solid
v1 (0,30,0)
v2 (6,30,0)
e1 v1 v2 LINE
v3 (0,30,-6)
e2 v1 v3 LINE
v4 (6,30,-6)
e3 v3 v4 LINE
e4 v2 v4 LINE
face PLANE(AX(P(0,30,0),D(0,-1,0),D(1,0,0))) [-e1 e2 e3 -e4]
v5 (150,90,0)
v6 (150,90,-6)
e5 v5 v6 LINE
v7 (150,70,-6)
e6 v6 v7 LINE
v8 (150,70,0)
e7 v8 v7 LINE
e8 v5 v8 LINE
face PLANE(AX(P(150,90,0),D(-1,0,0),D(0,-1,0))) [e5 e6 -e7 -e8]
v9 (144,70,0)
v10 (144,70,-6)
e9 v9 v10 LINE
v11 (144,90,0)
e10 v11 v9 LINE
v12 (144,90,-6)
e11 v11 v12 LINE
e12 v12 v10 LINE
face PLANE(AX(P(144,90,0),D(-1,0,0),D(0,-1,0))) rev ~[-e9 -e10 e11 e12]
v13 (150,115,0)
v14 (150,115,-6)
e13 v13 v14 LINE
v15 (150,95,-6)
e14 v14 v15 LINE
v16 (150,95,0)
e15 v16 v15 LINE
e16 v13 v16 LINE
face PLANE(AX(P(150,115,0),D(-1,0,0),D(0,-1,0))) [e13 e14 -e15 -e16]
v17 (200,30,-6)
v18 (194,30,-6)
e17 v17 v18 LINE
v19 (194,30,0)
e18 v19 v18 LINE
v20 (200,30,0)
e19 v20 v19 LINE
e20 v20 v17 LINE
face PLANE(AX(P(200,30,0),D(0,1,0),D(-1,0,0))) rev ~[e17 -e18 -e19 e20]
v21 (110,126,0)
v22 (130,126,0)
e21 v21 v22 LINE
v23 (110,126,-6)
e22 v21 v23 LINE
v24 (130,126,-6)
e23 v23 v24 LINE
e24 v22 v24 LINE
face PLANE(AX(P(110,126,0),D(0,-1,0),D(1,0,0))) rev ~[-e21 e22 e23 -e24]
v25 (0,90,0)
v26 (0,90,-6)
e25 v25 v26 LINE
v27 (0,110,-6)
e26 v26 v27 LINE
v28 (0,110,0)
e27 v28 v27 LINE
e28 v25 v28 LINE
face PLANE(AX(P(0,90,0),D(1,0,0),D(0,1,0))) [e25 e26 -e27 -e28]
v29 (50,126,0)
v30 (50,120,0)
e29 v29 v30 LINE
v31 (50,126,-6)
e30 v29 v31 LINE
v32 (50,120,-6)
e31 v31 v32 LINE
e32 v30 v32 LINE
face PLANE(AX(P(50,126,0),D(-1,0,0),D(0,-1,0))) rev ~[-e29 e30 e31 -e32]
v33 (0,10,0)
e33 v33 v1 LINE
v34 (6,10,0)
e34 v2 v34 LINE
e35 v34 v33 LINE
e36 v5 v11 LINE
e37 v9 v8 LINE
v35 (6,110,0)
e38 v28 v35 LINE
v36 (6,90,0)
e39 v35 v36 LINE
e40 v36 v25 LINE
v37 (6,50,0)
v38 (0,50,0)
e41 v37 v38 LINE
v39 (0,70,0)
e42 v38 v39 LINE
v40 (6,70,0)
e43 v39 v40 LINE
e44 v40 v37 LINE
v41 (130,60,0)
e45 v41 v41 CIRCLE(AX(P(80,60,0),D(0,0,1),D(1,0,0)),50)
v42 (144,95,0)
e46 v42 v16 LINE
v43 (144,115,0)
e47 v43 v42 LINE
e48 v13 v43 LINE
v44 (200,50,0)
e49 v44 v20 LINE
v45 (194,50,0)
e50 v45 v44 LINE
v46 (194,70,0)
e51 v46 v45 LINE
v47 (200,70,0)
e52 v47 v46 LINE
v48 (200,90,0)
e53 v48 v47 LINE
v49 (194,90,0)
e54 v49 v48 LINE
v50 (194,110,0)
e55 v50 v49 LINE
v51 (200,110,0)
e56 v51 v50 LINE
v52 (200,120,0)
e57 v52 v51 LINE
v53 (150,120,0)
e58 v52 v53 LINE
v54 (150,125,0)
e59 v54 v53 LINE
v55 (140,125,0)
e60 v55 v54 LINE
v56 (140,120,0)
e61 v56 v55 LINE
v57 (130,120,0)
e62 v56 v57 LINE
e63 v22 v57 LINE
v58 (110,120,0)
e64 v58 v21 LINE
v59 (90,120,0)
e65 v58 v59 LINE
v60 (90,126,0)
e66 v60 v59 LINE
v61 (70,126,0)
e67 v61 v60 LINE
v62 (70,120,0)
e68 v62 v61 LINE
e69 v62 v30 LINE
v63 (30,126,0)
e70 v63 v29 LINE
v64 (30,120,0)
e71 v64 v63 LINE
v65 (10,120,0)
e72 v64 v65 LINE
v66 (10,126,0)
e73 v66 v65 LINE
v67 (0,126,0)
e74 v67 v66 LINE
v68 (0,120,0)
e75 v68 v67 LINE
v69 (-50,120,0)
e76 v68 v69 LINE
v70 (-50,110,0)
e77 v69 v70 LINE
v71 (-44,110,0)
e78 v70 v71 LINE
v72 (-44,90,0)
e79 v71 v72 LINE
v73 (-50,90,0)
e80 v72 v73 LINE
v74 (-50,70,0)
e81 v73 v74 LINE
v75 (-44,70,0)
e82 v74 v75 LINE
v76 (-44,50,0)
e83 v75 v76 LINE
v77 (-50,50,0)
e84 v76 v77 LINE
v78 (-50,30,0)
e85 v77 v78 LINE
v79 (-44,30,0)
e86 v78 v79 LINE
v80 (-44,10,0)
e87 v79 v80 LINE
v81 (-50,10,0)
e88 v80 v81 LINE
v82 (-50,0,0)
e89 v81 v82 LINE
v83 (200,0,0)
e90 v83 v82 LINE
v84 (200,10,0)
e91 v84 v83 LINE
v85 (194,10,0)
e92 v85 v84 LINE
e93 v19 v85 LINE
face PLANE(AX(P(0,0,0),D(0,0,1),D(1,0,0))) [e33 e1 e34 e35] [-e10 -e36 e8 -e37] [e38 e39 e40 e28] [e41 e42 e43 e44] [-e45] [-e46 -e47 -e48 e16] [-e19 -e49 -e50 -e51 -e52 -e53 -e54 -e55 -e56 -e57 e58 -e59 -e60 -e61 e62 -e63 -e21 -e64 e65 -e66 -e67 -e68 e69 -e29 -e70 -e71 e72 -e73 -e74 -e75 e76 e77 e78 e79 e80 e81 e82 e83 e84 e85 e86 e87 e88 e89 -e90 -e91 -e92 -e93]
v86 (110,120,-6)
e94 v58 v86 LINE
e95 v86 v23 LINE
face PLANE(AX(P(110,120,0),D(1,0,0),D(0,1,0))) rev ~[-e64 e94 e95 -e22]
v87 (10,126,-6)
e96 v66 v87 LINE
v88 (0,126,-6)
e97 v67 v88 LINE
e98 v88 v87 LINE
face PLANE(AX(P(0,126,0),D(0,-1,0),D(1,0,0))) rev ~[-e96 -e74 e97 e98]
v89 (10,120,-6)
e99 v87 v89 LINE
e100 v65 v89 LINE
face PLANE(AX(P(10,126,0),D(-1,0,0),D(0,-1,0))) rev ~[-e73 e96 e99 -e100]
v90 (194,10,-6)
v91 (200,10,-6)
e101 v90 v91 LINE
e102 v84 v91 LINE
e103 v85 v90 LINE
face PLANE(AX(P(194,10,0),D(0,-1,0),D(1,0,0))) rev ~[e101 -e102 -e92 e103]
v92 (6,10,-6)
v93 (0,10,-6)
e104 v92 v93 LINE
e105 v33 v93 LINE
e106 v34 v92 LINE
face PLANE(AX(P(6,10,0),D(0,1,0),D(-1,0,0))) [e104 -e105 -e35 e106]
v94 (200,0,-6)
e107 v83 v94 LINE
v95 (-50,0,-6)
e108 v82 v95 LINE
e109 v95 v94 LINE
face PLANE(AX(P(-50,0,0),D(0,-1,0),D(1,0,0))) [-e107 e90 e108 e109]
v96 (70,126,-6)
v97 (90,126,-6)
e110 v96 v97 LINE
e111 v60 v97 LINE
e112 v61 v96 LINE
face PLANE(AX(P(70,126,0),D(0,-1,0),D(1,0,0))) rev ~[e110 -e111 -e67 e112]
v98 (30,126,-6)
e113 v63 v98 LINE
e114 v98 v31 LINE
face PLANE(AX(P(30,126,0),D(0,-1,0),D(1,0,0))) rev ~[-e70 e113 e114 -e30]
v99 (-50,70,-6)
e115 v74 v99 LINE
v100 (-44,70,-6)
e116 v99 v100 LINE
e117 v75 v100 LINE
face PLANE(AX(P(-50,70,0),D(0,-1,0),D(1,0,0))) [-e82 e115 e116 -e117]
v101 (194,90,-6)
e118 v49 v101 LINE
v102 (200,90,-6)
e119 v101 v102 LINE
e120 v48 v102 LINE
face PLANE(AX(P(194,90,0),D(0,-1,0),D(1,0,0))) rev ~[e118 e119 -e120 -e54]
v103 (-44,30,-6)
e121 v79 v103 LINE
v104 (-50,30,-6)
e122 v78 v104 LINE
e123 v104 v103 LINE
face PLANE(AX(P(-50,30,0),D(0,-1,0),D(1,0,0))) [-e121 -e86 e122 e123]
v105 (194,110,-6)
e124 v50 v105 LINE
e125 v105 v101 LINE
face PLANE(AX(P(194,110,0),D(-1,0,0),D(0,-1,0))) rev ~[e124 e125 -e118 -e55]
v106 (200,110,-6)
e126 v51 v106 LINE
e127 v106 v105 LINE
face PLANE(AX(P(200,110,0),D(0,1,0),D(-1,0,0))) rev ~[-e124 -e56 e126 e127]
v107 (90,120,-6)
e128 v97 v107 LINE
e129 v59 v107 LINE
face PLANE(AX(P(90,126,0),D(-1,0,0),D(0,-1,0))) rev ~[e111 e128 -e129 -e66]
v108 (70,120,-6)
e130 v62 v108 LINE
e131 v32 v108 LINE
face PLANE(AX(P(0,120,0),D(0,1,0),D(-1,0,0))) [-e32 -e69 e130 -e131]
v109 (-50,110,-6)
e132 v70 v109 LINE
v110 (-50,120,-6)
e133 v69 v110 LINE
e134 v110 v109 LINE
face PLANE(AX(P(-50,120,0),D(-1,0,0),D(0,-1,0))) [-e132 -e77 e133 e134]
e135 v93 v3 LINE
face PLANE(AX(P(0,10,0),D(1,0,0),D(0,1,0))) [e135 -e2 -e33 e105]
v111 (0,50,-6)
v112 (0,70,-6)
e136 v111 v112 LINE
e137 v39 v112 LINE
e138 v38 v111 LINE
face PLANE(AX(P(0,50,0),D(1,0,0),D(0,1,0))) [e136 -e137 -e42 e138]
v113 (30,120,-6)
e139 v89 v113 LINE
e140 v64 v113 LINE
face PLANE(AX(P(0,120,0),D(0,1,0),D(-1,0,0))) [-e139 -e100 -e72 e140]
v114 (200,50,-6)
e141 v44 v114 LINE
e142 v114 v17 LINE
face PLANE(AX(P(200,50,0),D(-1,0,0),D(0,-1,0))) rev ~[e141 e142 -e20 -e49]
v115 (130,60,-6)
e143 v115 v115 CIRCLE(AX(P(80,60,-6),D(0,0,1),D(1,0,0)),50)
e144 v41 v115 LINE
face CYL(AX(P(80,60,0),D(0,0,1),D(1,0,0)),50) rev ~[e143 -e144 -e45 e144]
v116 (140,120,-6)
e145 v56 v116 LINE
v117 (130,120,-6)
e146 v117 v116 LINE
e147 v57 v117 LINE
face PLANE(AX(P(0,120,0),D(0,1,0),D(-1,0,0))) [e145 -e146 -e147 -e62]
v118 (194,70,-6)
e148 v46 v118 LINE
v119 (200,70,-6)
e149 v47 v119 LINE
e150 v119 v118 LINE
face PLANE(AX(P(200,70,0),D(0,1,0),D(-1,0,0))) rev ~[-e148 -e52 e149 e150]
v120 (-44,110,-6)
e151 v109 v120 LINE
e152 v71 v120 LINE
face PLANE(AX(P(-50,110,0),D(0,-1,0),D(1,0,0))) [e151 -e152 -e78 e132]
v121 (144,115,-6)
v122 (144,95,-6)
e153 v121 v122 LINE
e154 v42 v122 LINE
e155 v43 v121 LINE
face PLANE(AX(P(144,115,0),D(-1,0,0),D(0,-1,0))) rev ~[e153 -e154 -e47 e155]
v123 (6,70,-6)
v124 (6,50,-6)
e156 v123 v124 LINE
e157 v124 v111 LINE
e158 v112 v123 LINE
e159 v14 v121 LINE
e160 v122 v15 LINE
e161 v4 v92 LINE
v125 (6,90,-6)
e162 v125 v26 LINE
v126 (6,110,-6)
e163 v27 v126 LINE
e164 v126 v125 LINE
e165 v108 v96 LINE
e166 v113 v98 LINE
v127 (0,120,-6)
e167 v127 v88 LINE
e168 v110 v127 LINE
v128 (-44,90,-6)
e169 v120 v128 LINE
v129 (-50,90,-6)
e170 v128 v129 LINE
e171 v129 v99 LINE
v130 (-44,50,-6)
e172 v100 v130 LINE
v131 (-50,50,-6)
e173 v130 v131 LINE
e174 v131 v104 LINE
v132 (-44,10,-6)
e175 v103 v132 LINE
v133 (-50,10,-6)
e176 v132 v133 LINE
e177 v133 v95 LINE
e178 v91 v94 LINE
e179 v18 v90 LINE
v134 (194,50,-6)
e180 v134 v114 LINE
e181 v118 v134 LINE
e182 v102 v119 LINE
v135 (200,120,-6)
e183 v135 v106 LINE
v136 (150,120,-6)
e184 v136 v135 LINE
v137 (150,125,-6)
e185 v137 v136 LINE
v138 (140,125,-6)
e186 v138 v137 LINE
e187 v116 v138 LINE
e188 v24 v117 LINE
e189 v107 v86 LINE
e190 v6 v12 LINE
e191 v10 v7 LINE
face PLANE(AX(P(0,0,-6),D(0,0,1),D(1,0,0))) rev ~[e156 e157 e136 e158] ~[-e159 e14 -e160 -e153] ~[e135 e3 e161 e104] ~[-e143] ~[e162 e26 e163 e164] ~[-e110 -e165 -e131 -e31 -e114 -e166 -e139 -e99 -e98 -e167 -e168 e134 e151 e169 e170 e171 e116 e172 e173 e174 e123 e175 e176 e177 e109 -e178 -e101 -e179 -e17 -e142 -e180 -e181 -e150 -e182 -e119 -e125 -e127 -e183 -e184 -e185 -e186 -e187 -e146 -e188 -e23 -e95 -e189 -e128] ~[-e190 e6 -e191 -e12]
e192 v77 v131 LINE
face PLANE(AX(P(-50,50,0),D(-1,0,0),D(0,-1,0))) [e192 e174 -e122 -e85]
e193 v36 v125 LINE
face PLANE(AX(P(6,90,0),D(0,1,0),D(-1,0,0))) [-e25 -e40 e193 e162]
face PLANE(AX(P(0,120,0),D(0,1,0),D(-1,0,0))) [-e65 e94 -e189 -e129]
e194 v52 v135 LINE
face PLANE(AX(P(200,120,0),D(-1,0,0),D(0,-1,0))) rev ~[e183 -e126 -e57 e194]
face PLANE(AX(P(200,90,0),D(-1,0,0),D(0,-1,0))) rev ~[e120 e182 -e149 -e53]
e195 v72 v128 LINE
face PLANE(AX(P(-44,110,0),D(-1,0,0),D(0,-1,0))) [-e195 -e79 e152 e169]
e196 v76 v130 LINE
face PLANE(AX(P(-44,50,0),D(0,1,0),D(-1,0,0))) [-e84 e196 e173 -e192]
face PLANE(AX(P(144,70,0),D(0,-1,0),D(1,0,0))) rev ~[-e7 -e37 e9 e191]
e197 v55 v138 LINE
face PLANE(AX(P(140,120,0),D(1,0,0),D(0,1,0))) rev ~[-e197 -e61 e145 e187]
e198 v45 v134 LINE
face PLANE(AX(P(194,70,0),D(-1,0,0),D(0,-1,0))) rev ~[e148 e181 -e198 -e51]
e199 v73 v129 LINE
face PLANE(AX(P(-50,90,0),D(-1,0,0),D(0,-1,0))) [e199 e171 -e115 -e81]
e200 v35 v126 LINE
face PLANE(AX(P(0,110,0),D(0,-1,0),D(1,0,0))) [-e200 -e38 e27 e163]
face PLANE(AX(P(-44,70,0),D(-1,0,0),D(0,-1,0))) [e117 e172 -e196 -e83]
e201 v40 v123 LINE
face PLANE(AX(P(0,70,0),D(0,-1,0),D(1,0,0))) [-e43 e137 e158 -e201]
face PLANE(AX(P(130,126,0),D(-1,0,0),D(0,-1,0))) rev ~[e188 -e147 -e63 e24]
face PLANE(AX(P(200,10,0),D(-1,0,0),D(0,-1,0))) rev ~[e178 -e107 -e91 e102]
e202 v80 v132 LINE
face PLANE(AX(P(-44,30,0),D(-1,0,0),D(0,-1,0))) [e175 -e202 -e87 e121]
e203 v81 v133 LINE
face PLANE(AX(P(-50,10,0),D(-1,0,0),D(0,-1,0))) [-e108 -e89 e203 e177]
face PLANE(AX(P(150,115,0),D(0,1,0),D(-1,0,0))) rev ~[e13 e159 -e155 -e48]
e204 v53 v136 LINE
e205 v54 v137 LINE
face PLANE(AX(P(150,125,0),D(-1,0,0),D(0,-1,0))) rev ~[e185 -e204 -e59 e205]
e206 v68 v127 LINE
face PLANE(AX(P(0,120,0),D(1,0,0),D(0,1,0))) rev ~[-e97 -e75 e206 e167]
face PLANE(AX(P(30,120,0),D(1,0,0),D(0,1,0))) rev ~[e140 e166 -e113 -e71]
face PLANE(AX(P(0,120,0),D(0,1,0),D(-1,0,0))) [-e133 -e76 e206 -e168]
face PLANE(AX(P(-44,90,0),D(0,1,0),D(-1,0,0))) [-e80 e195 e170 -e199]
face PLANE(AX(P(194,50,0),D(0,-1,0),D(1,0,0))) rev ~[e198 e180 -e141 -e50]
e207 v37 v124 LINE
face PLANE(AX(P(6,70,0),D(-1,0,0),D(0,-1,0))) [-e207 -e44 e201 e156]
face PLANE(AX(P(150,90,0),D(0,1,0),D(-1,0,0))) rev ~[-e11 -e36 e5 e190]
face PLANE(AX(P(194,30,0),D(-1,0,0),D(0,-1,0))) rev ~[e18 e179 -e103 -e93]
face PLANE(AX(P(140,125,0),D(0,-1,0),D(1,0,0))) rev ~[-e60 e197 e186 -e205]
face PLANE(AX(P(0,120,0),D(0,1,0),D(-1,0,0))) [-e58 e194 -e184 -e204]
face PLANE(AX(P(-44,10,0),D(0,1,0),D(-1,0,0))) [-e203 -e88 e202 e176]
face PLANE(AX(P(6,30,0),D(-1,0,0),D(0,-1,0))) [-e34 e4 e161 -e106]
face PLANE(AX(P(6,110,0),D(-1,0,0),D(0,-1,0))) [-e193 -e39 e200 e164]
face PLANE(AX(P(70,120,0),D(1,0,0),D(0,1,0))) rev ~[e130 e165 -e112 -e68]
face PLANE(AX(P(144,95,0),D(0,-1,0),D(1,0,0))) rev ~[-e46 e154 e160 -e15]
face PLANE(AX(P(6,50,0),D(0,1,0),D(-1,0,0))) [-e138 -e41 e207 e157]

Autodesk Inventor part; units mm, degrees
ref_plane "YZ Plane" through (0, 0, 0) normal (1, 0, 0) x (0, 1, 0)
ref_plane "XZ Plane" through (0, 0, 0) normal (0, 1, 0) x (-1, 0, 0)
ref_plane "XY Plane" through (0, 0, 0) normal (0, 0, 1) x (1, 0, 0)
sketch "Sketch1" plane through (0, 0, 0) normal (0, 0, 1) x (1, 0, 0)
  line L0 (0, 0) -> (0, 120)
  circle A0 centre (80, 60) radius 50
  line L1 (0, 0) -> (150, 0)
  line L2 (150, 120) -> (0, 120)
  line L3 (0, 120) -> (0, 110)
  line L4 (0, 110) -> (6, 110)
  line L5 (6, 110) -> (6, 90)
  line L6 (6, 90) -> (0, 90)
  line L7 (0, 90) -> (0, 70)
  line L8 (0, 70) -> (6, 70)
  line L9 (6, 70) -> (6, 50)
  line L10 (6, 50) -> (0, 50)
  line L11 (0, 50) -> (0, 30)
  line L12 (0, 30) -> (6, 30)
  line L13 (6, 30) -> (6, 10)
  line L14 (6, 10) -> (0, 10)
  line L15 (0, 120) -> (-50, 120)
  line L16 (-50, 120) -> (-50, 110)
  line L17 (-50, 110) -> (-44, 110)
  line L18 (-44, 110) -> (-44, 90)
  line L19 (-44, 90) -> (-50, 90)
  line L20 (-50, 90) -> (-50, 70)
  line L21 (-50, 70) -> (-44, 70)
  line L22 (-44, 70) -> (-44, 50)
  line L23 (-44, 50) -> (-50, 50)
  line L24 (-50, 50) -> (-50, 30)
  line L25 (-50, 30) -> (-44, 30)
  line L26 (-44, 30) -> (-44, 10)
  line L27 (-44, 10) -> (-50, 10)
  line L28 (-50, 10) -> (-50, 0)
  line L29 (-50, 0) -> (0, 0)
  line L30 (150, 115) -> (144, 115)
  line L31 (144, 115) -> (144, 95)
  line L32 (150, 120) -> (200, 120)
  line L33 (200, 120) -> (200, 110)
  line L34 (200, 110) -> (194, 110)
  line L35 (194, 110) -> (194, 90)
  line L36 (194, 90) -> (200, 90)
  line L37 (200, 90) -> (200, 70)
  line L38 (200, 70) -> (194, 70)
  line L39 (194, 70) -> (194, 50)
  line L40 (194, 50) -> (200, 50)
  line L41 (200, 50) -> (200, 30)
  line L42 (200, 30) -> (194, 30)
  line L43 (194, 30) -> (194, 10)
  line L44 (194, 10) -> (200, 10)
  line L45 (200, 10) -> (200, 0)
  line L46 (200, 0) -> (150, 0)
  line L47 (150, 120) -> (150, 0)
  line L48 (144, 95) -> (150, 95)
  line L49 (150, 95) -> (150, 90)
  line L50 (150, 90) -> (144, 90)
  line L51 (144, 90) -> (144, 70)
  line L52 (144, 70) -> (150, 70)
  line L53 (0, 120) -> (0, 126)
  line L54 (150, 125) -> (150, 120)
  line L55 (0, 126) -> (10, 126)
  line L56 (10, 126) -> (10, 120)
  line L57 (10, 120) -> (30, 120)
  line L58 (30, 120) -> (30, 126)
  line L59 (30, 126) -> (50, 126)
  line L60 (50, 126) -> (50, 120)
  line L61 (50, 120) -> (70, 120)
  line L62 (70, 120) -> (70, 126)
  line L63 (70, 126) -> (90, 126)
  line L64 (90, 126) -> (90, 120)
  line L65 (90, 120) -> (110, 120)
  line L66 (110, 120) -> (110, 126)
  line L67 (110, 126) -> (130, 126)
  line L68 (130, 126) -> (130, 120)
  line L69 (130, 120) -> (140, 120)
  line L70 (140, 120) -> (140, 125)
  line L71 (140, 125) -> (150, 125)
  dimension "d12" = 100
  dimension "d13" = 120
  dimension "d14" = 150
  dimension "d17" = 80
  dimension "d18" = 60
  dimension "d19" = 10
  dimension "d20" = 6
  dimension "d21" = 20
  dimension "d22" = 20
  dimension "d24" = 20
  dimension "d25" = 20
  dimension "d26" = 20
  dimension "d38" = 50
  dimension "d39" = 10
  dimension "d40" = 6
  dimension "d41" = 5
  dimension "d42" = 6
  dimension "d43" = 50
  dimension "d44" = 6
  dimension "d45" = 5
  dimension "d46" = 20
  dimension "d47" = 20
  dimension "d48" = 6
  dimension "d51" = 10
  dimension "d52" = 20
  dimension "d53" = 20
  dimension "d54" = 20
  dimension "d55" = 20
  dimension "d56" = 20
  dimension "d57" = 20
  dimension "d58" = 10
extrude "Extrusion1" add sketch "Sketch1" against normal blind 6 contours L29 L28 L27 L26 L25 L24 L23 L22 L21 L20 L19 L18 L17 L16 L15 L0 | L0 L14 L13 L12 L10 L9 L8 L6 L5 L4 L2 L47 L30 L31 L48 L50 L51 L52 L1 | L47 L32 L33 L34 L35 L36 L37 L38 L39 L40 L41 L42 L43 L44 L45 L46
extrude "Extrusion3" add sketch "Sketch1" against normal blind 6 contours L2 L70 L71 L54 | L53 L55 L56 L2 | L2 L66 L67 L68 | L58 L59 L60 L2 | L2 L62 L63 L64
sketch "Sketch3" plane through (0, 0, 0) normal (0, 0, 1) x (1, 0, 0)
  line L0 (200, 30) -> (200, 50) projected
  line L1 (194, 30) -> (200, 30) projected
  line L2 (200, 50) -> (200, 30) projected
  line L3 (200, 30) -> (194, 30) projected
  line L4 (194, 10) -> (194, 30) projected
  line L5 (194, 30) -> (194, 10) projected
  line L6 (200, 10) -> (194, 10) projected
  line L7 (194, 10) -> (200, 10) projected
  line L8 (200, 0) -> (200, 10) projected
  circle A0 centre (80, 60) radius 50 projected
  circle A1 centre (80, 60) radius 50 projected
  circle A2 centre (80, 60) radius 50 projected
  circle A3 centre (80, 60) radius 50 projected
  line L9 (0, 30) -> (6, 30) projected
  line L10 (6, 30) -> (6, 10) projected
  line L11 (6, 10) -> (0, 10) projected
  line L12 (0, 10) -> (0, 30) projected
  circle A4 centre (80, 60) radius 50 projected
  line L13 (150, 90) -> (150, 70) projected
  line L14 (150, 70) -> (144, 70) projected
  line L15 (144, 70) -> (144, 90) projected
  line L16 (144, 90) -> (150, 90) projected
  line L17 (150, 115) -> (150, 95) projected
  line L18 (150, 95) -> (144, 95) projected
  line L19 (144, 95) -> (144, 115) projected
  line L20 (144, 115) -> (150, 115) projected
  line L21 (0, 70) -> (6, 70) projected
  line L22 (6, 70) -> (6, 50) projected
  line L23 (6, 50) -> (0, 50) projected
  line L24 (0, 50) -> (0, 70) projected
  line L25 (0, 110) -> (6, 110) projected
  line L26 (6, 110) -> (6, 90) projected
  line L27 (6, 90) -> (0, 90) projected
  line L28 (0, 90) -> (0, 110) projected
  line L29 (200, 120) -> (150, 120) projected
  line L30 (150, 120) -> (150, 125) projected
  line L31 (150, 125) -> (140, 125) projected
  line L32 (140, 125) -> (140, 120) projected
  line L33 (140, 120) -> (130, 120) projected
  line L34 (130, 120) -> (130, 126) projected
  line L35 (130, 126) -> (110, 126) projected
  line L36 (110, 126) -> (110, 120) projected
  line L37 (110, 120) -> (90, 120) projected
  line L38 (90, 120) -> (90, 126) projected
  line L39 (90, 126) -> (70, 126) projected
  line L40 (70, 126) -> (70, 120) projected
  line L41 (70, 120) -> (50, 120) projected
  line L42 (50, 120) -> (50, 126) projected
  line L43 (50, 126) -> (30, 126) projected
  line L44 (30, 126) -> (30, 120) projected
  line L45 (30, 120) -> (10, 120) projected
  line L46 (10, 120) -> (10, 126) projected
  line L47 (10, 126) -> (0, 126) projected
  line L48 (0, 126) -> (0, 120) projected
  line L49 (0, 120) -> (-50, 120) projected
  line L50 (-50, 120) -> (-50, 110) projected
  line L51 (-50, 110) -> (-44, 110) projected
  line L52 (-44, 110) -> (-44, 90) projected
  line L53 (-44, 90) -> (-50, 90) projected
  line L54 (-50, 90) -> (-50, 70) projected
  line L55 (-50, 70) -> (-44, 70) projected
  line L56 (-44, 70) -> (-44, 50) projected
  line L57 (-44, 50) -> (-50, 50) projected
  line L58 (-50, 50) -> (-50, 30) projected
  line L59 (-50, 30) -> (-44, 30) projected
  line L60 (-44, 30) -> (-44, 10) projected
  line L61 (-44, 10) -> (-50, 10) projected
  line L62 (-50, 10) -> (-50, 0) projected
  line L63 (-50, 0) -> (200, 0) projected
  line L64 (200, 0) -> (200, 10) projected
  line L65 (200, 10) -> (194, 10) projected
  line L66 (194, 10) -> (194, 30) projected
  line L67 (194, 30) -> (200, 30) projected
  line L68 (200, 30) -> (200, 50) projected
  line L69 (200, 50) -> (194, 50) projected
  line L70 (194, 50) -> (194, 70) projected
  line L71 (194, 70) -> (200, 70) projected
  line L72 (200, 70) -> (200, 90) projected
  line L73 (200, 90) -> (194, 90) projected
  line L74 (194, 90) -> (194, 110) projected
  line L75 (194, 110) -> (200, 110) projected
  line L76 (200, 110) -> (200, 120) projected
  line L77 (6, 30) -> (0, 30) projected
  line L78 (0, 30) -> (0, 10) projected
  line L79 (0, 10) -> (6, 10) projected
  line L80 (6, 10) -> (6, 30) projected
  circle A5 centre (80, 60) radius 50 projected
  line L81 (150, 70) -> (150, 90) projected
  line L82 (150, 90) -> (144, 90) projected
  line L83 (144, 90) -> (144, 70) projected
  line L84 (144, 70) -> (150, 70) projected
  line L85 (150, 95) -> (150, 115) projected
  line L86 (150, 115) -> (144, 115) projected
  line L87 (144, 115) -> (144, 95) projected
  line L88 (144, 95) -> (150, 95) projected
  line L89 (6, 70) -> (0, 70) projected
  line L90 (0, 70) -> (0, 50) projected
  line L91 (0, 50) -> (6, 50) projected
  line L92 (6, 50) -> (6, 70) projected
  line L93 (6, 110) -> (0, 110) projected
  line L94 (0, 110) -> (0, 90) projected
  line L95 (0, 90) -> (6, 90) projected
  line L96 (6, 90) -> (6, 110) projected
  line L97 (-50, 120) -> (0, 120) projected
  line L98 (0, 120) -> (0, 126) projected
  line L99 (0, 126) -> (10, 126) projected
  line L100 (10, 126) -> (10, 120) projected
  line L101 (10, 120) -> (30, 120) projected
  line L102 (30, 120) -> (30, 126) projected
  line L103 (30, 126) -> (50, 126) projected
  line L104 (50, 126) -> (50, 120) projected
  line L105 (50, 120) -> (70, 120) projected
  line L106 (70, 120) -> (70, 126) projected
  line L107 (70, 126) -> (90, 126) projected
  line L108 (90, 126) -> (90, 120) projected
  line L109 (90, 120) -> (110, 120) projected
  line L110 (110, 120) -> (110, 126) projected
  line L111 (110, 126) -> (130, 126) projected
  line L112 (130, 126) -> (130, 120) projected
  line L113 (130, 120) -> (140, 120) projected
  line L114 (140, 120) -> (140, 125) projected
  line L115 (140, 125) -> (150, 125) projected
  line L116 (150, 125) -> (150, 120) projected
  line L117 (150, 120) -> (200, 120) projected
  line L118 (200, 120) -> (200, 110) projected
  line L119 (200, 110) -> (194, 110) projected
  line L120 (194, 110) -> (194, 90) projected
  line L121 (194, 90) -> (200, 90) projected
  line L122 (200, 90) -> (200, 70) projected
  line L123 (200, 70) -> (194, 70) projected
  line L124 (194, 70) -> (194, 50) projected
  line L125 (194, 50) -> (200, 50) projected
  line L126 (200, 50) -> (200, 30) projected
  line L127 (200, 30) -> (194, 30) projected
  line L128 (194, 30) -> (194, 10) projected
  line L129 (194, 10) -> (200, 10) projected
  line L130 (200, 10) -> (200, 0) projected
  line L131 (200, 0) -> (-50, 0) projected
  line L132 (-50, 0) -> (-50, 10) projected
  line L133 (-50, 10) -> (-44, 10) projected
  line L134 (-44, 10) -> (-44, 30) projected
  line L135 (-44, 30) -> (-50, 30) projected
  line L136 (-50, 30) -> (-50, 50) projected
  line L137 (-50, 50) -> (-44, 50) projected
  line L138 (-44, 50) -> (-44, 70) projected
  line L139 (-44, 70) -> (-50, 70) projected
  line L140 (-50, 70) -> (-50, 90) projected
  line L141 (-50, 90) -> (-44, 90) projected
  line L142 (-44, 90) -> (-44, 110) projected
  line L143 (-44, 110) -> (-50, 110) projected
  line L144 (-50, 110) -> (-50, 120) projected
  line L145 (-50, 0) -> (200, 0) projected
  line L146 (200, 0) -> (-50, 0) projected
  line L147 (-50, 0) -> (200, 0) projected
  line L148 (200, 0) -> (-50, 0) projected
  line L149 (200, 10) -> (200, 0) projected
  line L150 (200, 90) -> (194, 90) projected
  line L151 (194, 90) -> (200, 90) projected
  line L152 (194, 50) -> (200, 50) projected
  line L153 (200, 110) -> (194, 110) projected
  line L154 (194, 110) -> (200, 110) projected
  line L155 (200, 120) -> (200, 110) projected
  line L156 (200, 110) -> (200, 120) projected
  line L157 (200, 50) -> (194, 50) projected
  line L158 (194, 110) -> (194, 90) projected
  line L159 (194, 70) -> (194, 50) projected
  line L160 (194, 90) -> (194, 110) projected
  line L161 (194, 50) -> (194, 70) projected
  line L162 (200, 90) -> (200, 70) projected
  line L163 (200, 70) -> (200, 90) projected
  line L164 (194, 70) -> (200, 70) projected
  line L165 (6, 50) -> (0, 50) projected
  line L166 (6, 50) -> (6, 70) projected
  line L167 (6, 70) -> (6, 50) projected
  line L168 (0, 70) -> (0, 50) projected
  line L169 (-44, 70) -> (-44, 50) projected
  line L170 (0, 50) -> (0, 70) projected
  line L171 (200, 70) -> (194, 70) projected
  line L172 (70, 120) -> (70, 126) projected
  line L173 (70, 126) -> (70, 120) projected
  line L174 (70, 126) -> (90, 126) projected
  line L175 (90, 126) -> (70, 126) projected
  line L176 (90, 126) -> (90, 120) projected
  line L177 (90, 120) -> (90, 126) projected
  line L178 (110, 126) -> (110, 120) projected
  line L179 (110, 120) -> (110, 126) projected
  line L180 (110, 120) -> (90, 120) projected
  line L181 (90, 120) -> (110, 120) projected
  line L182 (90, 120) -> (90, 126) projected
  line L183 (90, 126) -> (90, 120) projected
  line L184 (90, 126) -> (70, 126) projected
  line L185 (70, 126) -> (90, 126) projected
  line L186 (90, 120) -> (110, 120) projected
  line L187 (110, 120) -> (90, 120) projected
  line L188 (130, 120) -> (140, 120) projected
  line L189 (140, 120) -> (130, 120) projected
  line L190 (110, 120) -> (110, 126) projected
  line L191 (110, 126) -> (110, 120) projected
  line L192 (110, 126) -> (130, 126) projected
  line L193 (130, 126) -> (110, 126) projected
  line L194 (130, 126) -> (130, 120) projected
  line L195 (130, 120) -> (130, 126) projected
  line L196 (140, 125) -> (150, 125) projected
  line L197 (150, 125) -> (140, 125) projected
  line L198 (150, 125) -> (150, 120) projected
  line L199 (150, 120) -> (150, 125) projected
  line L200 (150, 120) -> (150, 125) projected
  line L201 (150, 125) -> (150, 120) projected
  line L202 (150, 125) -> (140, 125) projected
  line L203 (140, 125) -> (150, 125) projected
  line L204 (140, 120) -> (140, 125) projected
  line L205 (140, 125) -> (140, 120) projected
  line L206 (140, 125) -> (140, 120) projected
  line L207 (140, 120) -> (140, 125) projected
  line L208 (130, 120) -> (140, 120) projected
  line L209 (140, 120) -> (130, 120) projected
  line L210 (130, 120) -> (130, 126) projected
  line L211 (130, 126) -> (130, 120) projected
  line L212 (130, 126) -> (110, 126) projected
  line L213 (110, 126) -> (130, 126) projected
  line L214 (150, 70) -> (150, 90) projected
  line L215 (150, 90) -> (150, 70) projected
  line L216 (150, 90) -> (144, 90) projected
  line L217 (144, 90) -> (150, 90) projected
  line L218 (144, 90) -> (144, 70) projected
  line L219 (144, 70) -> (144, 90) projected
  line L220 (144, 70) -> (150, 70) projected
  line L221 (150, 70) -> (144, 70) projected
  line L222 (144, 70) -> (144, 90) projected
  line L223 (144, 90) -> (144, 70) projected
  line L224 (144, 90) -> (150, 90) projected
  line L225 (150, 90) -> (144, 90) projected
  line L226 (150, 95) -> (144, 95) projected
  line L227 (144, 95) -> (150, 95) projected
  line L228 (150, 115) -> (150, 95) projected
  line L229 (150, 95) -> (150, 115) projected
  line L230 (144, 95) -> (144, 115) projected
  line L231 (144, 115) -> (144, 95) projected
  line L232 (144, 115) -> (150, 115) projected
  line L233 (150, 115) -> (144, 115) projected
  line L234 (150, 70) -> (144, 70) projected
  line L235 (144, 70) -> (150, 70) projected
  line L236 (150, 90) -> (150, 70) projected
  line L237 (150, 70) -> (150, 90) projected
  line L238 (150, 120) -> (200, 120) projected
  line L239 (200, 120) -> (150, 120) projected
  line L240 (200, 120) -> (150, 120) projected
  line L241 (150, 120) -> (200, 120) projected
  line L242 (194, 90) -> (194, 110) projected
  line L243 (194, 110) -> (194, 90) projected
  line L244 (194, 110) -> (200, 110) projected
  line L245 (200, 110) -> (194, 110) projected
  line L246 (200, 90) -> (194, 90) projected
  line L247 (194, 90) -> (200, 90) projected
  line L248 (200, 70) -> (200, 90) projected
  line L249 (200, 90) -> (200, 70) projected
  line L250 (200, 50) -> (194, 50) projected
  line L251 (194, 50) -> (200, 50) projected
  line L252 (200, 30) -> (200, 50) projected
  line L253 (200, 50) -> (200, 30) projected
  line L254 (194, 30) -> (200, 30) projected
  line L255 (200, 30) -> (194, 30) projected
  line L256 (194, 10) -> (194, 30) projected
  line L257 (194, 30) -> (194, 10) projected
  line L258 (200, 0) -> (200, 10) projected
  line L259 (200, 10) -> (200, 0) projected
  line L260 (200, 10) -> (194, 10) projected
  line L261 (194, 10) -> (200, 10) projected
  line L262 (194, 50) -> (194, 70) projected
  line L263 (194, 70) -> (194, 50) projected
  line L264 (194, 70) -> (200, 70) projected
  line L265 (200, 70) -> (194, 70) projected
  line L266 (200, 110) -> (200, 120) projected
  line L267 (200, 120) -> (200, 110) projected
  line L268 (150, 95) -> (150, 115) projected
  line L269 (150, 115) -> (150, 95) projected
  line L270 (150, 115) -> (144, 115) projected
  line L271 (144, 115) -> (150, 115) projected
  line L272 (144, 115) -> (144, 95) projected
  line L273 (144, 95) -> (144, 115) projected
  line L274 (144, 95) -> (150, 95) projected
  line L275 (150, 95) -> (144, 95) projected
  line L276 (30, 120) -> (10, 120) projected
  line L277 (10, 120) -> (30, 120) projected
  line L278 (30, 126) -> (30, 120) projected
  line L279 (30, 120) -> (30, 126) projected
  line L280 (50, 126) -> (30, 126) projected
  line L281 (30, 126) -> (50, 126) projected
  line L282 (50, 120) -> (70, 120) projected
  line L283 (70, 120) -> (50, 120) projected
  line L284 (70, 126) -> (70, 120) projected
  line L285 (70, 120) -> (70, 126) projected
  line L286 (50, 120) -> (50, 126) projected
  line L287 (50, 126) -> (50, 120) projected
  line L288 (50, 120) -> (70, 120) projected
  line L289 (70, 120) -> (50, 120) projected
  line L290 (6, 90) -> (6, 110) projected
  line L291 (6, 10) -> (6, 30) projected
  line L292 (50, 126) -> (50, 120) projected
  line L293 (30, 126) -> (30, 120) projected
  line L294 (30, 126) -> (50, 126) projected
  line L295 (50, 126) -> (30, 126) projected
  line L296 (50, 120) -> (50, 126) projected
  line L297 (0, 10) -> (0, 30) projected
  line L298 (0, 110) -> (0, 90) projected
  line L299 (0, 90) -> (0, 110) projected
  line L300 (6, 90) -> (0, 90) projected
  line L301 (6, 110) -> (6, 90) projected
  line L302 (0, 90) -> (6, 90) projected
  line L303 (0, 50) -> (6, 50) projected
  line L304 (0, 110) -> (6, 110) projected
  line L305 (6, 110) -> (0, 110) projected
  line L306 (10, 120) -> (10, 126) projected
  line L307 (0, 126) -> (0, 120) projected
  line L308 (10, 126) -> (0, 126) projected
  line L309 (0, 120) -> (0, 126) projected
  line L310 (0, 126) -> (10, 126) projected
  line L311 (10, 126) -> (10, 120) projected
  line L312 (10, 120) -> (30, 120) projected
  line L313 (30, 120) -> (10, 120) projected
  line L314 (0, 120) -> (-50, 120) projected
  line L315 (-50, 120) -> (0, 120) projected
  line L316 (30, 120) -> (30, 126) projected
  line L317 (-44, 50) -> (-44, 70) projected
  line L318 (-44, 70) -> (-50, 70) projected
  line L319 (-50, 70) -> (-44, 70) projected
  line L320 (-50, 70) -> (-50, 90) projected
  line L321 (-50, 90) -> (-50, 70) projected
  line L322 (-50, 90) -> (-44, 90) projected
  line L323 (-44, 90) -> (-50, 90) projected
  line L324 (-44, 90) -> (-44, 110) projected
  line L325 (6, 70) -> (0, 70) projected
  line L326 (0, 70) -> (6, 70) projected
  line L327 (-44, 110) -> (-44, 90) projected
  line L328 (-50, 110) -> (-44, 110) projected
  line L329 (-44, 110) -> (-50, 110) projected
  line L330 (-50, 120) -> (-50, 110) projected
  line L331 (-50, 110) -> (-50, 120) projected
  line L332 (-50, 10) -> (-50, 0) projected
  line L333 (-50, 0) -> (-50, 10) projected
  line L334 (-44, 10) -> (-50, 10) projected
  line L335 (-50, 10) -> (-44, 10) projected
  line L336 (10, 120) -> (10, 126) projected
  line L337 (10, 126) -> (10, 120) projected
  line L338 (10, 126) -> (0, 126) projected
  line L339 (0, 126) -> (10, 126) projected
  line L340 (0, 126) -> (0, 120) projected
  line L341 (0, 120) -> (0, 126) projected
  line L342 (0, 110) -> (6, 110) projected
  line L343 (6, 110) -> (0, 110) projected
  line L344 (6, 110) -> (6, 90) projected
  line L345 (6, 90) -> (6, 110) projected
  line L346 (0, 90) -> (0, 110) projected
  line L347 (0, 110) -> (0, 90) projected
  line L348 (6, 90) -> (0, 90) projected
  line L349 (0, 90) -> (6, 90) projected
  line L350 (0, 70) -> (6, 70) projected
  line L351 (6, 70) -> (0, 70) projected
  line L352 (6, 70) -> (6, 50) projected
  line L353 (6, 50) -> (6, 70) projected
  line L354 (0, 50) -> (0, 70) projected
  line L355 (0, 70) -> (0, 50) projected
  line L356 (6, 50) -> (0, 50) projected
  line L357 (0, 50) -> (6, 50) projected
  line L358 (-50, 120) -> (0, 120) projected
  line L359 (0, 120) -> (-50, 120) projected
  line L360 (-50, 120) -> (-50, 110) projected
  line L361 (-50, 110) -> (-50, 120) projected
  line L362 (-44, 110) -> (-44, 90) projected
  line L363 (-44, 90) -> (-44, 110) projected
  line L364 (-50, 110) -> (-44, 110) projected
  line L365 (-44, 110) -> (-50, 110) projected
  line L366 (0, 30) -> (6, 30) projected
  line L367 (6, 30) -> (0, 30) projected
  line L368 (-44, 90) -> (-50, 90) projected
  line L369 (-50, 90) -> (-44, 90) projected
  line L370 (-50, 90) -> (-50, 70) projected
  line L371 (-50, 70) -> (-50, 90) projected
  line L372 (6, 30) -> (6, 10) projected
  line L373 (6, 10) -> (6, 30) projected
  line L374 (6, 10) -> (0, 10) projected
  line L375 (0, 10) -> (6, 10) projected
  line L376 (0, 10) -> (0, 30) projected
  line L377 (0, 30) -> (0, 10) projected
  line L378 (-50, 70) -> (-44, 70) projected
  line L379 (-44, 70) -> (-50, 70) projected
  line L380 (-44, 70) -> (-44, 50) projected
  line L381 (-44, 50) -> (-44, 70) projected
  line L382 (-44, 50) -> (-50, 50) projected
  line L383 (-50, 50) -> (-44, 50) projected
  line L384 (-50, 50) -> (-50, 30) projected
  line L385 (-50, 30) -> (-50, 50) projected
  line L386 (-44, 30) -> (-44, 10) projected
  line L387 (-44, 10) -> (-44, 30) projected
  line L388 (-50, 30) -> (-44, 30) projected
  line L389 (-44, 30) -> (-50, 30) projected
  line L390 (-50, 50) -> (-50, 30) projected
  line L391 (-44, 10) -> (-44, 30) projected
  line L392 (-44, 50) -> (-50, 50) projected
  line L393 (-50, 50) -> (-44, 50) projected
  line L394 (-50, 30) -> (-50, 50) projected
  line L395 (-44, 30) -> (-50, 30) projected
  line L396 (-50, 30) -> (-44, 30) projected
  line L397 (-44, 30) -> (-44, 10) projected
  line L398 (-50, 10) -> (-44, 10) projected
  line L399 (-50, 0) -> (-50, 10) projected
  line L400 (0, 30) -> (0, 10) projected
  line L401 (-44, 10) -> (-50, 10) projected
  line L402 (6, 30) -> (0, 30) projected
  line L403 (0, 10) -> (6, 10) projected
  line L404 (0, 30) -> (6, 30) projected
  line L405 (6, 30) -> (6, 10) projected
  line L406 (6, 10) -> (0, 10) projected
  line L407 (-50, 10) -> (-50, 0) projected
  point P0 (0, 0)
properties part number "Archimedes Screw Border1"
